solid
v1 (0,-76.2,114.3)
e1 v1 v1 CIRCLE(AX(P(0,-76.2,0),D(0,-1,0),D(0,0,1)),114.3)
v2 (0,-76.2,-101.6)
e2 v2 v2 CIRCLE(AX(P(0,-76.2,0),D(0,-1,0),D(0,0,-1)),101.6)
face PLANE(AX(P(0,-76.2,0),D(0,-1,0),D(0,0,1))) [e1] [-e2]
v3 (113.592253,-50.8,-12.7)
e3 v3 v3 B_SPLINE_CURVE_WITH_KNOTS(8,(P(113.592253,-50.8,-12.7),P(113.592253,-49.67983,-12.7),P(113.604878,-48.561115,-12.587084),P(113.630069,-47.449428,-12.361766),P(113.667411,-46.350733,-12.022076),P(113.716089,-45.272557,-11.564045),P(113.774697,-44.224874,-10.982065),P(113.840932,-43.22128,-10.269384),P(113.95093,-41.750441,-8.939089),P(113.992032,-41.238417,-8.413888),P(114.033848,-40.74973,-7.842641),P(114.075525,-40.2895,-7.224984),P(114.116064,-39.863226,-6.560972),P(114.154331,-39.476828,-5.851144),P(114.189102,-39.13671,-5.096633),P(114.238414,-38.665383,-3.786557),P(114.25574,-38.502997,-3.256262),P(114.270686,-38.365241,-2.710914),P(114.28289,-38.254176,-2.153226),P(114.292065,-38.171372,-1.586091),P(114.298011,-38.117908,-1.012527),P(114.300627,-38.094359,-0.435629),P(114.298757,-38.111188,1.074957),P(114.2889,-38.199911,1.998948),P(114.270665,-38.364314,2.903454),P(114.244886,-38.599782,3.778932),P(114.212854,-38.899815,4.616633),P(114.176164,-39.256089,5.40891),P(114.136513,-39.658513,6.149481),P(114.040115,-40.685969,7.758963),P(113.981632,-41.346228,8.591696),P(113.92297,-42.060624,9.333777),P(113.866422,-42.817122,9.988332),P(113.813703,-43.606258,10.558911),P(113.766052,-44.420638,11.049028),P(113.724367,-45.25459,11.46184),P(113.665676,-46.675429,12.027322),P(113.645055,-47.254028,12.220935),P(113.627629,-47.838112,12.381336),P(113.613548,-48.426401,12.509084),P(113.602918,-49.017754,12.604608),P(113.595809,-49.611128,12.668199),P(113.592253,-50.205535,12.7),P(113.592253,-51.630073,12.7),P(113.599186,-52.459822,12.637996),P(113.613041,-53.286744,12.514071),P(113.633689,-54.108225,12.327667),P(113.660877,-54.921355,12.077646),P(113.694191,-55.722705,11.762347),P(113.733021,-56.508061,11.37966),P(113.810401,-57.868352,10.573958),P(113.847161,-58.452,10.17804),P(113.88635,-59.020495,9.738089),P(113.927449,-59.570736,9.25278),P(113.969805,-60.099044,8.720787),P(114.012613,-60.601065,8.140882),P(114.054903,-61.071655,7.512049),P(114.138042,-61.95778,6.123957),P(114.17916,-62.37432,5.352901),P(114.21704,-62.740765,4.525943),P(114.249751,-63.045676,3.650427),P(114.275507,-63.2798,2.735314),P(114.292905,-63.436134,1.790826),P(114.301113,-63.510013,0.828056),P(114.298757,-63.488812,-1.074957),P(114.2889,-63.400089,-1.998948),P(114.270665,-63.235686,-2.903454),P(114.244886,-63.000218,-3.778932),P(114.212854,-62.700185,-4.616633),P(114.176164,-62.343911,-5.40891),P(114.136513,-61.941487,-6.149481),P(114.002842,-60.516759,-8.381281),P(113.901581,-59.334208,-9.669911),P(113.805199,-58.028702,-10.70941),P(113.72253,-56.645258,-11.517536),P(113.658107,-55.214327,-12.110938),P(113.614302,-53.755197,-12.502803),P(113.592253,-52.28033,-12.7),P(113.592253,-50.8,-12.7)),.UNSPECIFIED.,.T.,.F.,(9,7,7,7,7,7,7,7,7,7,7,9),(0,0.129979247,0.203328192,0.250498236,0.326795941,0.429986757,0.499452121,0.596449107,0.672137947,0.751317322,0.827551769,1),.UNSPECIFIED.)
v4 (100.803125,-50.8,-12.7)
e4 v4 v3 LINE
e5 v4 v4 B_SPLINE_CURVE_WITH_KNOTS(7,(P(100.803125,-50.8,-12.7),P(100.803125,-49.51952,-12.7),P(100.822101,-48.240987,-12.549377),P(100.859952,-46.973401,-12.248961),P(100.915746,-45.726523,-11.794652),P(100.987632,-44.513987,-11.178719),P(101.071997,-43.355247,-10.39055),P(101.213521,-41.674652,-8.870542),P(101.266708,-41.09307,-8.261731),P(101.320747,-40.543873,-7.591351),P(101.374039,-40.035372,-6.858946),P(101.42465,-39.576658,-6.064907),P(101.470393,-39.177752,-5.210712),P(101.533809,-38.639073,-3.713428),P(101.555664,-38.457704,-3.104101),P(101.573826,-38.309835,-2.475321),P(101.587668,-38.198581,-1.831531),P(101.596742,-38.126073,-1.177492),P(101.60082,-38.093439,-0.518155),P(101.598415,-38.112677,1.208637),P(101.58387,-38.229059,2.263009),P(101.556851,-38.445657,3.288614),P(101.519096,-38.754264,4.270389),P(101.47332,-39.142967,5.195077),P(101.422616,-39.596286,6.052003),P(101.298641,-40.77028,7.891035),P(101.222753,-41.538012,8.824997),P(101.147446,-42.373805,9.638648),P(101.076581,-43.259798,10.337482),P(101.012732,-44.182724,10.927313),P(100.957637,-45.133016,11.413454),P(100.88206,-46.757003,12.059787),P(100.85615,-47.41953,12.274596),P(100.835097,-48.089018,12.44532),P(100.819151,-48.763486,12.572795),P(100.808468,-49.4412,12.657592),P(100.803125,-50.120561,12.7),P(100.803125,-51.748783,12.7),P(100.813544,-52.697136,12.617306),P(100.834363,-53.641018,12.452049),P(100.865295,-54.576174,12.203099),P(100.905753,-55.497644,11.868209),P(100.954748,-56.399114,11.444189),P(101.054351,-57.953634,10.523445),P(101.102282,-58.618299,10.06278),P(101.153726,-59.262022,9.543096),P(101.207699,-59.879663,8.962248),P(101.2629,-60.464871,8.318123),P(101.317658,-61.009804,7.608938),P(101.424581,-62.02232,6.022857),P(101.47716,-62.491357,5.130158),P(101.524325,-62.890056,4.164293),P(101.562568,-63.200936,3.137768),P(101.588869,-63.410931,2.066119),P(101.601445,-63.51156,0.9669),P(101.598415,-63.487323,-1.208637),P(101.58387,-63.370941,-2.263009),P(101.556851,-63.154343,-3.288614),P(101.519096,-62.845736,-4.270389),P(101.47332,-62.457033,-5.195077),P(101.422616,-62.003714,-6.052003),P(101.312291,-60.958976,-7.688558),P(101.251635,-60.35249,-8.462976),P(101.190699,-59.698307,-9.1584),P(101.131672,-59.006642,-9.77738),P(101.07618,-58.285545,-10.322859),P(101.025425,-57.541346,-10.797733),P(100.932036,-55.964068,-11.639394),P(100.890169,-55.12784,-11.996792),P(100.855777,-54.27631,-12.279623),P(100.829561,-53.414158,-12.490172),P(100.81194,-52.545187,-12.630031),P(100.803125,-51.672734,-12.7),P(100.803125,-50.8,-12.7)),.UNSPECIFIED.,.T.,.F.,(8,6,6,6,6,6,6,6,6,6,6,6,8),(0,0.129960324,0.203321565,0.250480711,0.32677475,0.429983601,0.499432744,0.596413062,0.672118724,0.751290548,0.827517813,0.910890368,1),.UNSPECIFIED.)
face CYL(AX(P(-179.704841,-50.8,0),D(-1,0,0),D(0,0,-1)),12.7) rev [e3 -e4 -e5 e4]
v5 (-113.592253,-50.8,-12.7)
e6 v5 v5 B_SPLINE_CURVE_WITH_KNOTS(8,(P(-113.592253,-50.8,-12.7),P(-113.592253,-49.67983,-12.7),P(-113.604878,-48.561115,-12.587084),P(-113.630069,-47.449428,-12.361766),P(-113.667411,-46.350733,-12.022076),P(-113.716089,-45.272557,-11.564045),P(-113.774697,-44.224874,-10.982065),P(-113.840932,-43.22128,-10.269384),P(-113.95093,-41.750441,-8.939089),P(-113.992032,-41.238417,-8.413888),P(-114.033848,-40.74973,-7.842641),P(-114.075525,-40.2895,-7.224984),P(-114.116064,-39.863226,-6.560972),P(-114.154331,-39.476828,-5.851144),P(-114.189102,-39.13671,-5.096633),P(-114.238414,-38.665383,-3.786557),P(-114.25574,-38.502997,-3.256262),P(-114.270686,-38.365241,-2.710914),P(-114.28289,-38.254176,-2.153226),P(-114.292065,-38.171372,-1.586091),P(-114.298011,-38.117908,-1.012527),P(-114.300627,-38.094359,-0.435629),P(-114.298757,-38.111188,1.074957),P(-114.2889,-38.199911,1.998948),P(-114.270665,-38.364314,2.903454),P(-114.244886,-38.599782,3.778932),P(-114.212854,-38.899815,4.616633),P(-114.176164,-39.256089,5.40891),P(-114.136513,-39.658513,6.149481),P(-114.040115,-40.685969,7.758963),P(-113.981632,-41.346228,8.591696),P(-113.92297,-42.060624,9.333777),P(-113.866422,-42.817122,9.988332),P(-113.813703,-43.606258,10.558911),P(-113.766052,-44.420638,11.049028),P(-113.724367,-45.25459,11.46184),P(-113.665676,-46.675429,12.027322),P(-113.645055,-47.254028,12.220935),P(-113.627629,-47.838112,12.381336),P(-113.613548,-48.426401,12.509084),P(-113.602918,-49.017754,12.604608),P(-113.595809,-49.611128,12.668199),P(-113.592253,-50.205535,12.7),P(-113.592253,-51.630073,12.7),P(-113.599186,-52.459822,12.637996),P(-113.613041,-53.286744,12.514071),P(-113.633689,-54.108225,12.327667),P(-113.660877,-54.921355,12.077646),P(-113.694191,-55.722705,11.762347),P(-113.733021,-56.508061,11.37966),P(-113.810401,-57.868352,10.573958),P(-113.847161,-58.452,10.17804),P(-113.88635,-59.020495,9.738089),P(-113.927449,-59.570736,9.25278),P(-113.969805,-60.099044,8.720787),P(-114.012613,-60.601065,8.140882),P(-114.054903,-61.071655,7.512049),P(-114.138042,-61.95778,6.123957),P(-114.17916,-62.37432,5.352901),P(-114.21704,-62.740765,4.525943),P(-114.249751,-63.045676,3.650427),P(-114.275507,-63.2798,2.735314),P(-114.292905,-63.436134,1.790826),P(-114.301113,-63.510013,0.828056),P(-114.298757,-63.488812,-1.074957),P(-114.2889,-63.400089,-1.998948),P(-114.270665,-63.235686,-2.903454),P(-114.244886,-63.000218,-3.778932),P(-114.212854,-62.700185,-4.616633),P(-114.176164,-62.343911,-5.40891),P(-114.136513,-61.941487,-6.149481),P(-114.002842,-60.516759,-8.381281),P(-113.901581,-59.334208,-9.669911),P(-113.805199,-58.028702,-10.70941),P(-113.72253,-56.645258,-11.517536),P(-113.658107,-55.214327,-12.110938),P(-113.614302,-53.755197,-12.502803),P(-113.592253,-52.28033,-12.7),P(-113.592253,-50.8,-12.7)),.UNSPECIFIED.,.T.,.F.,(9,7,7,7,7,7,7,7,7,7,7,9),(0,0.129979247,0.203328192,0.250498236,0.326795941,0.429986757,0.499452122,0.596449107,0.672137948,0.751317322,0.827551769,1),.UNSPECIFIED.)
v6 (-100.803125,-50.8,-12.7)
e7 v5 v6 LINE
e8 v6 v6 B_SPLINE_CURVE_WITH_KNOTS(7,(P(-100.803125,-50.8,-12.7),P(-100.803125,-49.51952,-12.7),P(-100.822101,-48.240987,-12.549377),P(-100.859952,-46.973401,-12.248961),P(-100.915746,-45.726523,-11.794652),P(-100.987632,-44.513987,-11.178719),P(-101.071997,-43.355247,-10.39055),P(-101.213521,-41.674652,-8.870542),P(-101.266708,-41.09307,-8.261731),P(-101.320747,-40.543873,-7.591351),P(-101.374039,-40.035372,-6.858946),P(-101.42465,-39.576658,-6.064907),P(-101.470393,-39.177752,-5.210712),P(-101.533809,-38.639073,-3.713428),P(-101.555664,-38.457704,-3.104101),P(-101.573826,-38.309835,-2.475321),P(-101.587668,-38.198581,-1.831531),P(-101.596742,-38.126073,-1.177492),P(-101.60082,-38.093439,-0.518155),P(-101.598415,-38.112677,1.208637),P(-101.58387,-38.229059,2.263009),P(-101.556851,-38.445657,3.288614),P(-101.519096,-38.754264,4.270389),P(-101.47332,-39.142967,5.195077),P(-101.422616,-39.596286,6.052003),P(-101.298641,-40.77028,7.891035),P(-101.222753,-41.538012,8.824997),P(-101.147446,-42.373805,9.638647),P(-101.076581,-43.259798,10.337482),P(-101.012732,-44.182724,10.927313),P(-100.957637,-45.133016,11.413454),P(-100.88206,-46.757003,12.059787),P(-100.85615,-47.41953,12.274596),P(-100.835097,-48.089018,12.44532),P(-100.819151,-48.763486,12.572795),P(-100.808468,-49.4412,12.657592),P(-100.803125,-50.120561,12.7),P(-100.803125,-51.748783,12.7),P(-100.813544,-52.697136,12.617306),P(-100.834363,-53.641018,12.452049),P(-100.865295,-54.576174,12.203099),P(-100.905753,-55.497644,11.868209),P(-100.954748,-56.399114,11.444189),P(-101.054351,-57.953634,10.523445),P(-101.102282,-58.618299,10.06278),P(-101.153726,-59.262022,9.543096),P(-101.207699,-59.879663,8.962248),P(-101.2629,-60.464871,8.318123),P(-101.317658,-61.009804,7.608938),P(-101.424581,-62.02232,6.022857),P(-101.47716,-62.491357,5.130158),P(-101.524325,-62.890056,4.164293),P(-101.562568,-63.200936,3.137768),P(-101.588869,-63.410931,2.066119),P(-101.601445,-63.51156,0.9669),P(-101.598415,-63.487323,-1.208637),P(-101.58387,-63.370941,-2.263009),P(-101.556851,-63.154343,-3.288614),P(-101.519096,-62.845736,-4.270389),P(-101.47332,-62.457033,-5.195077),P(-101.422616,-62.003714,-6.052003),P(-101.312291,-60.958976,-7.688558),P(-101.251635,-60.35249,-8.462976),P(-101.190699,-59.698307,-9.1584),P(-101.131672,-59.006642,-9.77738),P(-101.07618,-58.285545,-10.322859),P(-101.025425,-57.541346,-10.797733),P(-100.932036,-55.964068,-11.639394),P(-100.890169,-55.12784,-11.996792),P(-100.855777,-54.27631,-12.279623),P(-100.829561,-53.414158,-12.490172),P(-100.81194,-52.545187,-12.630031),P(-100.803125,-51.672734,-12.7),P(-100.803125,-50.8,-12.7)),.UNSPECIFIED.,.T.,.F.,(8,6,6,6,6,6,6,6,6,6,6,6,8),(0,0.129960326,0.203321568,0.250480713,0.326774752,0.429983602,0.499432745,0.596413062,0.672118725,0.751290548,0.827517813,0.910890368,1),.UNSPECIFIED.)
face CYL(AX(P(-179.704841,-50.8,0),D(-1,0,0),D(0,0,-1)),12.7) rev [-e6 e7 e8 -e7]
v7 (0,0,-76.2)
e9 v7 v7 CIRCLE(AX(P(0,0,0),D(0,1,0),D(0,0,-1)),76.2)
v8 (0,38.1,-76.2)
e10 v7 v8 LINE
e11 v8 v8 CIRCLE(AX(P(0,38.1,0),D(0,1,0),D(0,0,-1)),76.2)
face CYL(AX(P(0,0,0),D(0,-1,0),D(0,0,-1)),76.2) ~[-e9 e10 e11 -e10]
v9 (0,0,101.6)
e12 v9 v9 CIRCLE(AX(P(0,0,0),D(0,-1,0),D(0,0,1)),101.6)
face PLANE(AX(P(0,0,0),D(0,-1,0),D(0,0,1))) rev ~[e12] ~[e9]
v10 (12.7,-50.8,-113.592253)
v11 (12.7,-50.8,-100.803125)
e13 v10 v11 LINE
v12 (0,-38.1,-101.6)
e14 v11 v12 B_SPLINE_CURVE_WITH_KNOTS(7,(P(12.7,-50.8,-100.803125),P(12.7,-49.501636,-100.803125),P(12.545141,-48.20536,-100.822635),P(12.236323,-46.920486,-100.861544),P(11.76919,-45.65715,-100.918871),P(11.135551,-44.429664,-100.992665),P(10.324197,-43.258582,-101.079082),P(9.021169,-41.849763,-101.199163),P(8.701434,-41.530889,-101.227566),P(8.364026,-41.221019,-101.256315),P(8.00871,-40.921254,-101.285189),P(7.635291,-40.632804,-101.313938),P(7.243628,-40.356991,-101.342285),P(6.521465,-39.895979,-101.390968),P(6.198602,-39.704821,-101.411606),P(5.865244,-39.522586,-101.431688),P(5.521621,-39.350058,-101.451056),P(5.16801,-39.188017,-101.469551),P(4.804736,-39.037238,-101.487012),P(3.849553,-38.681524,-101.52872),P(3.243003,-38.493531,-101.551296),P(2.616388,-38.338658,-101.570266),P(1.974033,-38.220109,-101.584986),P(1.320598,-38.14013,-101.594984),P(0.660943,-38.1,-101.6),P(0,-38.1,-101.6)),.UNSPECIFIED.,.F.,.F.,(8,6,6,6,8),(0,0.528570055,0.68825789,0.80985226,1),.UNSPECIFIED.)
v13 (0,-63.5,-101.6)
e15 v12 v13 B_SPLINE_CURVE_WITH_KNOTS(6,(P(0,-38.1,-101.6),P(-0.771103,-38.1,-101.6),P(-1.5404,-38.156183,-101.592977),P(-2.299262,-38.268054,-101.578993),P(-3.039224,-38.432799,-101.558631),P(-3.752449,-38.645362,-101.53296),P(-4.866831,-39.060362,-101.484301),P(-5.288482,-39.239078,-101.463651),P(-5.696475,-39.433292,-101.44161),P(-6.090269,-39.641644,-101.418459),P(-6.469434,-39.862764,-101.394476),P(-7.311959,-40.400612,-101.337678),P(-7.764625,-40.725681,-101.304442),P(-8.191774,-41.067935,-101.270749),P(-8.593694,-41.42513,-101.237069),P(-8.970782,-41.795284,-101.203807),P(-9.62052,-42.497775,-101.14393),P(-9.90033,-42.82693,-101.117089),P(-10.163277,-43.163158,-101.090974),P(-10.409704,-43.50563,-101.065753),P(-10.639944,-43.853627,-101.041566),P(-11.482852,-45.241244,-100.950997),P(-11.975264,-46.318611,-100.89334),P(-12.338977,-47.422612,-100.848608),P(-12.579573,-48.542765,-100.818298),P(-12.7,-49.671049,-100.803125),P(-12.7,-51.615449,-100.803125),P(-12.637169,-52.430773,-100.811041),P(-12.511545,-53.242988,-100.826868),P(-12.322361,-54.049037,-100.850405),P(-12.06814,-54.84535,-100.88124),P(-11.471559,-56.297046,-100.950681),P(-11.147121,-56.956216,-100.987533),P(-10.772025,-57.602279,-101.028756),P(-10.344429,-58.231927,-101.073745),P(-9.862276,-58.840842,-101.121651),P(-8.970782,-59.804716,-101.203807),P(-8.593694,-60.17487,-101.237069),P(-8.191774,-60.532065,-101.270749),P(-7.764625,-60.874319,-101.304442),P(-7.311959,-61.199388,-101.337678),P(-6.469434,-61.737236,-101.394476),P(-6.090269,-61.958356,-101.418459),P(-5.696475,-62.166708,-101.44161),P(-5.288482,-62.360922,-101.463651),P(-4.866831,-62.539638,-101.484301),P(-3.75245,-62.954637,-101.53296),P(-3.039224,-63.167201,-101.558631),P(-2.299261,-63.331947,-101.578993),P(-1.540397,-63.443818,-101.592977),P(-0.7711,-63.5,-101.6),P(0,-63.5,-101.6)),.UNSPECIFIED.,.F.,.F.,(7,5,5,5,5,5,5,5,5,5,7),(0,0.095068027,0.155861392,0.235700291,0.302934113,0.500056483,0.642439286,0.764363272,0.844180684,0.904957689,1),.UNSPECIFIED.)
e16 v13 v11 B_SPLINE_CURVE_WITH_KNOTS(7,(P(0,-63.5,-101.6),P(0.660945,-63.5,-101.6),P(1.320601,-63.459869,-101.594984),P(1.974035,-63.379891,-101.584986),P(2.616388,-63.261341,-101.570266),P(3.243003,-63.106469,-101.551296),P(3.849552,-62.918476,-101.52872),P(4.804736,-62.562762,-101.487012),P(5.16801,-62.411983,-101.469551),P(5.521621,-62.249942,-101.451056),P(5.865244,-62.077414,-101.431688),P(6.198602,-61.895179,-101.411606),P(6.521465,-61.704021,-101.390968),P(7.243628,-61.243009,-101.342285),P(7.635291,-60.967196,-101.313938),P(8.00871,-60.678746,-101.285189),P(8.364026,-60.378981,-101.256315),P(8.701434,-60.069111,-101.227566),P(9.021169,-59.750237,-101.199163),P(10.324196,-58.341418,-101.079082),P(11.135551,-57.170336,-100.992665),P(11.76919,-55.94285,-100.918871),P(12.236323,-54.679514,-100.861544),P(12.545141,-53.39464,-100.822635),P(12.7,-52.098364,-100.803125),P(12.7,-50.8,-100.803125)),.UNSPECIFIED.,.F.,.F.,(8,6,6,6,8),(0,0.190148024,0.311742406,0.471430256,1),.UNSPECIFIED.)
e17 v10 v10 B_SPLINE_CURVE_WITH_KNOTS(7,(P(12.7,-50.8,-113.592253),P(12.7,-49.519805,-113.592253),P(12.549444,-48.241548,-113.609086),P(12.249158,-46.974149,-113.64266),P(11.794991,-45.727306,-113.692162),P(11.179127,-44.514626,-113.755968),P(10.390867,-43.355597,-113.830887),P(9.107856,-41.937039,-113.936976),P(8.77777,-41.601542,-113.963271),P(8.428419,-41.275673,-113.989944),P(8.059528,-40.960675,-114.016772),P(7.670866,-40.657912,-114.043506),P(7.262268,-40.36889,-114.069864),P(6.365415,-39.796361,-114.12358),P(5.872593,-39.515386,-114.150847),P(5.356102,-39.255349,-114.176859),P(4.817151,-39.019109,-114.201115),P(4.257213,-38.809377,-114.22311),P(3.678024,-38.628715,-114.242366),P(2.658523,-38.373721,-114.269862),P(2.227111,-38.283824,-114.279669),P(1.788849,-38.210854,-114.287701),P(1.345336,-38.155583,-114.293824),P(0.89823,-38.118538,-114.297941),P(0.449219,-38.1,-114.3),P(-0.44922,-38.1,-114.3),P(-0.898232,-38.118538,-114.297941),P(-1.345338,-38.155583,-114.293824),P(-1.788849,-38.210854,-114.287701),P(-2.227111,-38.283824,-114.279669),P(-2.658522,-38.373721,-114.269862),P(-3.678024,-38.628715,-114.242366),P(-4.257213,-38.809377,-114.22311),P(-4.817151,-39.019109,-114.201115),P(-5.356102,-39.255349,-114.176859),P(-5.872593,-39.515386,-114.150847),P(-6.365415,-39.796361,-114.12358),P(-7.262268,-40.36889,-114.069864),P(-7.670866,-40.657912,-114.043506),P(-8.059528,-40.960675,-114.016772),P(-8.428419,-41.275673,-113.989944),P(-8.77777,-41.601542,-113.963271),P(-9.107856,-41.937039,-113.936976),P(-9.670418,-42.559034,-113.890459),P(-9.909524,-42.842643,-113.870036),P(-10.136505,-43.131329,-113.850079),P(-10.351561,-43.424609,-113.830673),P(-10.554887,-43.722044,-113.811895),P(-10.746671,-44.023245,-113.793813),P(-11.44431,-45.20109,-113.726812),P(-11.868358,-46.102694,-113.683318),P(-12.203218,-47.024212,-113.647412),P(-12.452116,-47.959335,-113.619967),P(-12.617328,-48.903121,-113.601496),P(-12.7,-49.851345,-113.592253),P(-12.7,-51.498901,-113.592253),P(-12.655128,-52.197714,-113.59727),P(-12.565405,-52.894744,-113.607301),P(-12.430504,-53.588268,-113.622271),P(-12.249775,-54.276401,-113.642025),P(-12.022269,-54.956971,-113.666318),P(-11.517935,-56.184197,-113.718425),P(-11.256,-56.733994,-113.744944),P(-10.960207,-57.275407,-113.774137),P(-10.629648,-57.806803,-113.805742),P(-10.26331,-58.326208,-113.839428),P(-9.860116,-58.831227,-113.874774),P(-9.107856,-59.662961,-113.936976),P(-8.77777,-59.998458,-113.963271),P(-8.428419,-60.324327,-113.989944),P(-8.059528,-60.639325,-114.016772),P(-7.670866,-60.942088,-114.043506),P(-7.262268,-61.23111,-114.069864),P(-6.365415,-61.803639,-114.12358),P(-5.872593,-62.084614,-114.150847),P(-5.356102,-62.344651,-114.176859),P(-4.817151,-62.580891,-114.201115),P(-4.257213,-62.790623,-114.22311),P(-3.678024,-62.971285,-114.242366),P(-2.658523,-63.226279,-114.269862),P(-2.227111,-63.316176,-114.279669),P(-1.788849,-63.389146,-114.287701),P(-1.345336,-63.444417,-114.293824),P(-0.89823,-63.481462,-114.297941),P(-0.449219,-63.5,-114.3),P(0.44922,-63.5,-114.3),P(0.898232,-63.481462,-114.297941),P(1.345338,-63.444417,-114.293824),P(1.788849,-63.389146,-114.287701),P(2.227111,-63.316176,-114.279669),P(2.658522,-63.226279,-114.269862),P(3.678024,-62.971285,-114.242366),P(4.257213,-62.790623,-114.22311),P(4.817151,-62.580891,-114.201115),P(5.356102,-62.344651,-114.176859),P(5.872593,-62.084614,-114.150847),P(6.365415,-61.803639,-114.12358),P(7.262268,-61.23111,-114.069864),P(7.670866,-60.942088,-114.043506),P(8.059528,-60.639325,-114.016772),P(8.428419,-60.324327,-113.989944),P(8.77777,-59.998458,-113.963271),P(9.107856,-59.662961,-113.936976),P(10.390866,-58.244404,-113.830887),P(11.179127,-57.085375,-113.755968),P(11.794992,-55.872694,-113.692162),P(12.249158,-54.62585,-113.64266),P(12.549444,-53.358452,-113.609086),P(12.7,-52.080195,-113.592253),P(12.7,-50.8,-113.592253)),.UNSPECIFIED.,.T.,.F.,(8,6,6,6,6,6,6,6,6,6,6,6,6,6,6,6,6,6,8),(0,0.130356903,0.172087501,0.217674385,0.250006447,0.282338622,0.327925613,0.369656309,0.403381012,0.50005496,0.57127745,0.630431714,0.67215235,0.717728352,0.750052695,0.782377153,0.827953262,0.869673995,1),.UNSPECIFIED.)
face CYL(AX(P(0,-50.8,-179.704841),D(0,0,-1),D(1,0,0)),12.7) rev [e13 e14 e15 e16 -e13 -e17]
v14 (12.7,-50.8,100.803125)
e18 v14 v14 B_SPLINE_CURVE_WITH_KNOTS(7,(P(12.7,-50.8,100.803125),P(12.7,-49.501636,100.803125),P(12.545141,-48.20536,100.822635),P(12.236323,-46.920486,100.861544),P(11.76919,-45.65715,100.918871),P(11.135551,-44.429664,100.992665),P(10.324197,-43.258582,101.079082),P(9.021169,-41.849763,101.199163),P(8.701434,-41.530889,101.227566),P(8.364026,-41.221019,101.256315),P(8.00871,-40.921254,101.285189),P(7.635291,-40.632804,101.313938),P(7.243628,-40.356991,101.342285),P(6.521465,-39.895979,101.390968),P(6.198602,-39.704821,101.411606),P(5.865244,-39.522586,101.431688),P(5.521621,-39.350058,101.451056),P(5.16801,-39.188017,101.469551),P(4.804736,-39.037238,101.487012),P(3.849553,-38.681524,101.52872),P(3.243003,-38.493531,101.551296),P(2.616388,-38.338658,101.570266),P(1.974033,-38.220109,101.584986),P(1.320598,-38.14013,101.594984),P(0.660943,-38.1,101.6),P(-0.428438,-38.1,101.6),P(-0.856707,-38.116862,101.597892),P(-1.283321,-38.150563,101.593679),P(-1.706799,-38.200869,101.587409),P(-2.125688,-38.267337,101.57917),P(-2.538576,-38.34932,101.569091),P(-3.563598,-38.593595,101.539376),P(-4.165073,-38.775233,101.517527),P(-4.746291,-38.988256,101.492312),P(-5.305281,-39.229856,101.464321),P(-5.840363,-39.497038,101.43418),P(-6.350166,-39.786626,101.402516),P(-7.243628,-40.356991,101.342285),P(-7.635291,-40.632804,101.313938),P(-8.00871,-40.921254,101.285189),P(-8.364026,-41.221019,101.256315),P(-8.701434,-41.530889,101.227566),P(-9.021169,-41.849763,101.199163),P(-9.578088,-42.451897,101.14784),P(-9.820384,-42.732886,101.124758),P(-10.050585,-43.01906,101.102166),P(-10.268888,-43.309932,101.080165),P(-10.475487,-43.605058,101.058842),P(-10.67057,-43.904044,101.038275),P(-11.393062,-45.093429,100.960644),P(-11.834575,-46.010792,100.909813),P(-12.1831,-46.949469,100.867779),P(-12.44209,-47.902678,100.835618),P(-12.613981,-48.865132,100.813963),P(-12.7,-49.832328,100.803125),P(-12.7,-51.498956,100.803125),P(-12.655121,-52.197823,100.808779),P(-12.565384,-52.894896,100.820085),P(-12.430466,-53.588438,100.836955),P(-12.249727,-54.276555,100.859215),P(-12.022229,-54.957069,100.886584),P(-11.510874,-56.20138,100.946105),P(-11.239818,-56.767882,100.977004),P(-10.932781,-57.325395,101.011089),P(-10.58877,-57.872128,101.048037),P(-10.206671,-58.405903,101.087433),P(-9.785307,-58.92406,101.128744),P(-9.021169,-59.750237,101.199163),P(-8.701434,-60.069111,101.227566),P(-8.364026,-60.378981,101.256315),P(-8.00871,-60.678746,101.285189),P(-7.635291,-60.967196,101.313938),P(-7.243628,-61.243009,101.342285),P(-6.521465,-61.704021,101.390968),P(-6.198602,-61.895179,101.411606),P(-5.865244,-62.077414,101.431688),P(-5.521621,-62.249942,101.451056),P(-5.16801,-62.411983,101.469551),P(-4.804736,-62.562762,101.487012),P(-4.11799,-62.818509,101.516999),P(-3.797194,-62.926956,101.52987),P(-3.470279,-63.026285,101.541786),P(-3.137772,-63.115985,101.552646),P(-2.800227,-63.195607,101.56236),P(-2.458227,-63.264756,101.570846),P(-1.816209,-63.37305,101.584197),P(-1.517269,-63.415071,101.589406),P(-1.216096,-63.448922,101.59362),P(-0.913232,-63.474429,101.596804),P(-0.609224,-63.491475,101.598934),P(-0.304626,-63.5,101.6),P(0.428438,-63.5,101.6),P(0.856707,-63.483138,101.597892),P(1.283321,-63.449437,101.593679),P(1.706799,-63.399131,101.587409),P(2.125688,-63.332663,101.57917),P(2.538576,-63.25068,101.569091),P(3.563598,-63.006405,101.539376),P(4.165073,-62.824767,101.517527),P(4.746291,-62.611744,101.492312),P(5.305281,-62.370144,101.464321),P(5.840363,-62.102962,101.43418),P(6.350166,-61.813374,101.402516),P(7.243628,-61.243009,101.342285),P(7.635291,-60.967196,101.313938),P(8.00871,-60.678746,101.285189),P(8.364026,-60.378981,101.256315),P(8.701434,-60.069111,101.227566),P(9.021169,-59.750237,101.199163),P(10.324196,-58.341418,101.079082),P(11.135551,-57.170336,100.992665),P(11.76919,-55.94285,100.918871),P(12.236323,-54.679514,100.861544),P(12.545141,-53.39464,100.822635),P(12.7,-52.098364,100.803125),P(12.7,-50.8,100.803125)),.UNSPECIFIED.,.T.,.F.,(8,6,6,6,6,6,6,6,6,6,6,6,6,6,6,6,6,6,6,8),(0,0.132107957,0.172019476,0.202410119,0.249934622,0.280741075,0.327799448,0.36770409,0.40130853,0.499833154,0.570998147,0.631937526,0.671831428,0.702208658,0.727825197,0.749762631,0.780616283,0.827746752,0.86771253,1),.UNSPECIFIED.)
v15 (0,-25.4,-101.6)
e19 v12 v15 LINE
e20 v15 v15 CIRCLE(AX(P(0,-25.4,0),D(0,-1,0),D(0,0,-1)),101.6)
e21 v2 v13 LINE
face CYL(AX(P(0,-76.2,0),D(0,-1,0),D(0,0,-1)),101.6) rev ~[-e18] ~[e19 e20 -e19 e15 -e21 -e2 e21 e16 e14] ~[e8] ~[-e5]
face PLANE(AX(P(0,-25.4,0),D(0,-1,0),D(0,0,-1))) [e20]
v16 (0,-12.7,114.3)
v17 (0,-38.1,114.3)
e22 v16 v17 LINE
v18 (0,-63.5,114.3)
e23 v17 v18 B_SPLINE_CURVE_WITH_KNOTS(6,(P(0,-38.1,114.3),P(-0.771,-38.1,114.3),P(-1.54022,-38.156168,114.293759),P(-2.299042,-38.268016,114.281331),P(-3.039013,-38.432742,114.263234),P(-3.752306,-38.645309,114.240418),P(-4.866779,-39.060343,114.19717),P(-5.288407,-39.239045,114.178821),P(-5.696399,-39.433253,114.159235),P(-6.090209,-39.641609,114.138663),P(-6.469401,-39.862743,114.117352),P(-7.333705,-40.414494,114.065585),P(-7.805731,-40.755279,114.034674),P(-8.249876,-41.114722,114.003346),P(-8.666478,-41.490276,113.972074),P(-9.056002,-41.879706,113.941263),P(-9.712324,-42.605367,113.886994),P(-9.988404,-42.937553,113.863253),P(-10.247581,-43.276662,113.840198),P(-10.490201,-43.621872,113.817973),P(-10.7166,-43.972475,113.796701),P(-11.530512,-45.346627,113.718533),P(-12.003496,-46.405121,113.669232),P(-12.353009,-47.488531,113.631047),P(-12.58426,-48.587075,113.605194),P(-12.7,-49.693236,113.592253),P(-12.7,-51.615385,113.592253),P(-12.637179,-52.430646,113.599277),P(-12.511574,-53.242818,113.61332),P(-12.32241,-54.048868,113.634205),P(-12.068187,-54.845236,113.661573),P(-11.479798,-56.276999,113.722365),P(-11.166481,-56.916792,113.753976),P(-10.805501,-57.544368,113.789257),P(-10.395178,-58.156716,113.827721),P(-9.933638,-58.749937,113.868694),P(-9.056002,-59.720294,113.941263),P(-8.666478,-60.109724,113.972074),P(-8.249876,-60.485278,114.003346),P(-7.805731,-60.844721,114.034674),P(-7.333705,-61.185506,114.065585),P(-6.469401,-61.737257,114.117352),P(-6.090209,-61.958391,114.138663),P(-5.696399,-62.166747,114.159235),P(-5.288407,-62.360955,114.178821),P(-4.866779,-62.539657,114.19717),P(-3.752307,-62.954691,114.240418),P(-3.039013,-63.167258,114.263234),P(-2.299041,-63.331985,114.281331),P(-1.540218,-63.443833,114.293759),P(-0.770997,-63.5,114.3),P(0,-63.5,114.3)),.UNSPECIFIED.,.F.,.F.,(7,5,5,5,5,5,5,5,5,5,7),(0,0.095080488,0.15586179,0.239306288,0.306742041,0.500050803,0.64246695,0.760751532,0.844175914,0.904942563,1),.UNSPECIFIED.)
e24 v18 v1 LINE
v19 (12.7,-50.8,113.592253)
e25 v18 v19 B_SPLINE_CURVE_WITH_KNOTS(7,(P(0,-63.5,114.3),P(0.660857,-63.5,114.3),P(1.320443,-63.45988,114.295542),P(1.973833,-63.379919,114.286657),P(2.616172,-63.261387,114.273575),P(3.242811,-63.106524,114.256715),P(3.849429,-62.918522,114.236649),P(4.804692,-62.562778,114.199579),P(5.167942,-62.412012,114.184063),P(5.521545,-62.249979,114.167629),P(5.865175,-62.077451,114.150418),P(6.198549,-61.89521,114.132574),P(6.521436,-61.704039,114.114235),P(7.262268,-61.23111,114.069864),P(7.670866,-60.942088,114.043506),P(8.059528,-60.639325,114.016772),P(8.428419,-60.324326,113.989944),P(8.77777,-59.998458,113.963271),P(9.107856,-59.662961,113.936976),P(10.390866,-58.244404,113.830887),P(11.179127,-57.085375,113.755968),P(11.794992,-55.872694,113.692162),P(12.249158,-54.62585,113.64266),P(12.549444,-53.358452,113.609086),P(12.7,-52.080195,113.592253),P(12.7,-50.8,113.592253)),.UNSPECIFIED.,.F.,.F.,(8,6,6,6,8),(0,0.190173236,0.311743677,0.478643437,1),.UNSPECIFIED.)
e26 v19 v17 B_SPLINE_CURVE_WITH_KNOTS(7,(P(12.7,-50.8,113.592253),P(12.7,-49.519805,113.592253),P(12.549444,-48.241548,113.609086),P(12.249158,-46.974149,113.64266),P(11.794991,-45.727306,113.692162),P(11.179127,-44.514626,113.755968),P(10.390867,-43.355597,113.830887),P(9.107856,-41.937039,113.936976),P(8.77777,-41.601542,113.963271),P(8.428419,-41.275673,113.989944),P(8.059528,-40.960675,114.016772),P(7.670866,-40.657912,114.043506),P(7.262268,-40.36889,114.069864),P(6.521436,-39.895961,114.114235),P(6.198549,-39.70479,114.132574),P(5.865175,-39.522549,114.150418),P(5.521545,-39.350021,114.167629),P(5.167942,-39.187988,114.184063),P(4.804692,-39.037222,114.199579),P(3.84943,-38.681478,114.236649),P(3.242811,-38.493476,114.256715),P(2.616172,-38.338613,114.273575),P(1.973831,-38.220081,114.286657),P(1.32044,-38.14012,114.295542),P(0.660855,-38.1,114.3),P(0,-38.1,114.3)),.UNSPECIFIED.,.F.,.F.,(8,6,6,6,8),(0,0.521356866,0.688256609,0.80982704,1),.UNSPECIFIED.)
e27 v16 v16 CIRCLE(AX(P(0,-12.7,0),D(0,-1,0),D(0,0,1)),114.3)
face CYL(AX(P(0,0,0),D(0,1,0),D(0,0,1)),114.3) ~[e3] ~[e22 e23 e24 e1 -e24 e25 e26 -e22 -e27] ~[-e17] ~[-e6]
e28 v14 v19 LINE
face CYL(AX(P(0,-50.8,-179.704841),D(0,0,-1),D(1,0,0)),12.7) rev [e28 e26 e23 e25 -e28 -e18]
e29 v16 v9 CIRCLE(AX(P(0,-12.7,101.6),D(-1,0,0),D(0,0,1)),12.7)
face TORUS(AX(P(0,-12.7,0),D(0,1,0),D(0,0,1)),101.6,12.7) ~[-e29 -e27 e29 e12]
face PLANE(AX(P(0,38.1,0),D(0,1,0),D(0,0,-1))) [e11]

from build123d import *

# Parameters (mm, degrees)
SKETCH1_R               = 76.2
BOSS_EXTRUDE1_DEPTH     = 38.1
SKETCH2_R               = 114.3
BOSS_EXTRUDE2_DEPTH     = 76.2
FILLET2_R               = 12.7
SKETCH3_R               = 101.6
CUT_EXTRUDE1_DEPTH      = 50.8
CUT_EXTRUDE2_DEPTH      = 179.704840513
CUT_EXTRUDE2_DEPTH_BACK = 179.704840513
SKETCH4_R               = 12.7
CUT_EXTRUDE3_DEPTH      = 179.704840621
CUT_EXTRUDE3_DEPTH_BACK = 179.704840621
SKETCH5_R               = 12.7


with BuildPart() as part:
    # Sketch1 → Boss-Extrude1 (new body)
    with BuildSketch(Plane(origin=(0, 0, 0), x_dir=(1, 0, 0), z_dir=(0, 1, 0))):
        with Locations(Location((0, 0, 0), (0, 0, 90))):
            Circle(SKETCH1_R)
    extrude(amount=BOSS_EXTRUDE1_DEPTH)

    # Sketch2 → Boss-Extrude2 (add)
    with BuildSketch(Plane.XZ):
        with Locations(Location((0, 0, 0), (0, 0, 90))):
            Circle(SKETCH2_R)
    extrude(amount=BOSS_EXTRUDE2_DEPTH)

    # Fillet2
    fillet2_edges = [part.edges().sort_by_distance(p)[0] for p in [
        (0, 0, -114.3),
    ]]
    fillet(fillet2_edges, radius=FILLET2_R)

    # Sketch3 → Cut-Extrude1 (cut)
    with BuildSketch(Plane.XZ.offset(76.2)):
        with Locations(Location((0, 0, 0), (0, 0, 270))):
            Circle(SKETCH3_R)
    extrude(amount=-CUT_EXTRUDE1_DEPTH, mode=Mode.SUBTRACT)

    # Sketch4 → Cut-Extrude2 (cut, two sides: drawn at the far end of the back side and taken through both)
    with BuildSketch(Plane(origin=(0, 0, 0), x_dir=(0, 0, -1), z_dir=(1, 0, 0)).offset(-CUT_EXTRUDE2_DEPTH_BACK)):
        with Locations((0, -50.8)):
            Circle(SKETCH4_R)
    extrude(amount=CUT_EXTRUDE2_DEPTH + CUT_EXTRUDE2_DEPTH_BACK, mode=Mode.SUBTRACT)

    # Sketch5 → Cut-Extrude3 (cut, two sides: drawn at the far end of the back side and taken through both)
    with BuildSketch(Plane.XY.offset(-CUT_EXTRUDE3_DEPTH_BACK)):
        with Locations((0, -50.8)):
            Circle(SKETCH5_R)
    extrude(amount=CUT_EXTRUDE3_DEPTH + CUT_EXTRUDE3_DEPTH_BACK, mode=Mode.SUBTRACT)


solid = part.part
